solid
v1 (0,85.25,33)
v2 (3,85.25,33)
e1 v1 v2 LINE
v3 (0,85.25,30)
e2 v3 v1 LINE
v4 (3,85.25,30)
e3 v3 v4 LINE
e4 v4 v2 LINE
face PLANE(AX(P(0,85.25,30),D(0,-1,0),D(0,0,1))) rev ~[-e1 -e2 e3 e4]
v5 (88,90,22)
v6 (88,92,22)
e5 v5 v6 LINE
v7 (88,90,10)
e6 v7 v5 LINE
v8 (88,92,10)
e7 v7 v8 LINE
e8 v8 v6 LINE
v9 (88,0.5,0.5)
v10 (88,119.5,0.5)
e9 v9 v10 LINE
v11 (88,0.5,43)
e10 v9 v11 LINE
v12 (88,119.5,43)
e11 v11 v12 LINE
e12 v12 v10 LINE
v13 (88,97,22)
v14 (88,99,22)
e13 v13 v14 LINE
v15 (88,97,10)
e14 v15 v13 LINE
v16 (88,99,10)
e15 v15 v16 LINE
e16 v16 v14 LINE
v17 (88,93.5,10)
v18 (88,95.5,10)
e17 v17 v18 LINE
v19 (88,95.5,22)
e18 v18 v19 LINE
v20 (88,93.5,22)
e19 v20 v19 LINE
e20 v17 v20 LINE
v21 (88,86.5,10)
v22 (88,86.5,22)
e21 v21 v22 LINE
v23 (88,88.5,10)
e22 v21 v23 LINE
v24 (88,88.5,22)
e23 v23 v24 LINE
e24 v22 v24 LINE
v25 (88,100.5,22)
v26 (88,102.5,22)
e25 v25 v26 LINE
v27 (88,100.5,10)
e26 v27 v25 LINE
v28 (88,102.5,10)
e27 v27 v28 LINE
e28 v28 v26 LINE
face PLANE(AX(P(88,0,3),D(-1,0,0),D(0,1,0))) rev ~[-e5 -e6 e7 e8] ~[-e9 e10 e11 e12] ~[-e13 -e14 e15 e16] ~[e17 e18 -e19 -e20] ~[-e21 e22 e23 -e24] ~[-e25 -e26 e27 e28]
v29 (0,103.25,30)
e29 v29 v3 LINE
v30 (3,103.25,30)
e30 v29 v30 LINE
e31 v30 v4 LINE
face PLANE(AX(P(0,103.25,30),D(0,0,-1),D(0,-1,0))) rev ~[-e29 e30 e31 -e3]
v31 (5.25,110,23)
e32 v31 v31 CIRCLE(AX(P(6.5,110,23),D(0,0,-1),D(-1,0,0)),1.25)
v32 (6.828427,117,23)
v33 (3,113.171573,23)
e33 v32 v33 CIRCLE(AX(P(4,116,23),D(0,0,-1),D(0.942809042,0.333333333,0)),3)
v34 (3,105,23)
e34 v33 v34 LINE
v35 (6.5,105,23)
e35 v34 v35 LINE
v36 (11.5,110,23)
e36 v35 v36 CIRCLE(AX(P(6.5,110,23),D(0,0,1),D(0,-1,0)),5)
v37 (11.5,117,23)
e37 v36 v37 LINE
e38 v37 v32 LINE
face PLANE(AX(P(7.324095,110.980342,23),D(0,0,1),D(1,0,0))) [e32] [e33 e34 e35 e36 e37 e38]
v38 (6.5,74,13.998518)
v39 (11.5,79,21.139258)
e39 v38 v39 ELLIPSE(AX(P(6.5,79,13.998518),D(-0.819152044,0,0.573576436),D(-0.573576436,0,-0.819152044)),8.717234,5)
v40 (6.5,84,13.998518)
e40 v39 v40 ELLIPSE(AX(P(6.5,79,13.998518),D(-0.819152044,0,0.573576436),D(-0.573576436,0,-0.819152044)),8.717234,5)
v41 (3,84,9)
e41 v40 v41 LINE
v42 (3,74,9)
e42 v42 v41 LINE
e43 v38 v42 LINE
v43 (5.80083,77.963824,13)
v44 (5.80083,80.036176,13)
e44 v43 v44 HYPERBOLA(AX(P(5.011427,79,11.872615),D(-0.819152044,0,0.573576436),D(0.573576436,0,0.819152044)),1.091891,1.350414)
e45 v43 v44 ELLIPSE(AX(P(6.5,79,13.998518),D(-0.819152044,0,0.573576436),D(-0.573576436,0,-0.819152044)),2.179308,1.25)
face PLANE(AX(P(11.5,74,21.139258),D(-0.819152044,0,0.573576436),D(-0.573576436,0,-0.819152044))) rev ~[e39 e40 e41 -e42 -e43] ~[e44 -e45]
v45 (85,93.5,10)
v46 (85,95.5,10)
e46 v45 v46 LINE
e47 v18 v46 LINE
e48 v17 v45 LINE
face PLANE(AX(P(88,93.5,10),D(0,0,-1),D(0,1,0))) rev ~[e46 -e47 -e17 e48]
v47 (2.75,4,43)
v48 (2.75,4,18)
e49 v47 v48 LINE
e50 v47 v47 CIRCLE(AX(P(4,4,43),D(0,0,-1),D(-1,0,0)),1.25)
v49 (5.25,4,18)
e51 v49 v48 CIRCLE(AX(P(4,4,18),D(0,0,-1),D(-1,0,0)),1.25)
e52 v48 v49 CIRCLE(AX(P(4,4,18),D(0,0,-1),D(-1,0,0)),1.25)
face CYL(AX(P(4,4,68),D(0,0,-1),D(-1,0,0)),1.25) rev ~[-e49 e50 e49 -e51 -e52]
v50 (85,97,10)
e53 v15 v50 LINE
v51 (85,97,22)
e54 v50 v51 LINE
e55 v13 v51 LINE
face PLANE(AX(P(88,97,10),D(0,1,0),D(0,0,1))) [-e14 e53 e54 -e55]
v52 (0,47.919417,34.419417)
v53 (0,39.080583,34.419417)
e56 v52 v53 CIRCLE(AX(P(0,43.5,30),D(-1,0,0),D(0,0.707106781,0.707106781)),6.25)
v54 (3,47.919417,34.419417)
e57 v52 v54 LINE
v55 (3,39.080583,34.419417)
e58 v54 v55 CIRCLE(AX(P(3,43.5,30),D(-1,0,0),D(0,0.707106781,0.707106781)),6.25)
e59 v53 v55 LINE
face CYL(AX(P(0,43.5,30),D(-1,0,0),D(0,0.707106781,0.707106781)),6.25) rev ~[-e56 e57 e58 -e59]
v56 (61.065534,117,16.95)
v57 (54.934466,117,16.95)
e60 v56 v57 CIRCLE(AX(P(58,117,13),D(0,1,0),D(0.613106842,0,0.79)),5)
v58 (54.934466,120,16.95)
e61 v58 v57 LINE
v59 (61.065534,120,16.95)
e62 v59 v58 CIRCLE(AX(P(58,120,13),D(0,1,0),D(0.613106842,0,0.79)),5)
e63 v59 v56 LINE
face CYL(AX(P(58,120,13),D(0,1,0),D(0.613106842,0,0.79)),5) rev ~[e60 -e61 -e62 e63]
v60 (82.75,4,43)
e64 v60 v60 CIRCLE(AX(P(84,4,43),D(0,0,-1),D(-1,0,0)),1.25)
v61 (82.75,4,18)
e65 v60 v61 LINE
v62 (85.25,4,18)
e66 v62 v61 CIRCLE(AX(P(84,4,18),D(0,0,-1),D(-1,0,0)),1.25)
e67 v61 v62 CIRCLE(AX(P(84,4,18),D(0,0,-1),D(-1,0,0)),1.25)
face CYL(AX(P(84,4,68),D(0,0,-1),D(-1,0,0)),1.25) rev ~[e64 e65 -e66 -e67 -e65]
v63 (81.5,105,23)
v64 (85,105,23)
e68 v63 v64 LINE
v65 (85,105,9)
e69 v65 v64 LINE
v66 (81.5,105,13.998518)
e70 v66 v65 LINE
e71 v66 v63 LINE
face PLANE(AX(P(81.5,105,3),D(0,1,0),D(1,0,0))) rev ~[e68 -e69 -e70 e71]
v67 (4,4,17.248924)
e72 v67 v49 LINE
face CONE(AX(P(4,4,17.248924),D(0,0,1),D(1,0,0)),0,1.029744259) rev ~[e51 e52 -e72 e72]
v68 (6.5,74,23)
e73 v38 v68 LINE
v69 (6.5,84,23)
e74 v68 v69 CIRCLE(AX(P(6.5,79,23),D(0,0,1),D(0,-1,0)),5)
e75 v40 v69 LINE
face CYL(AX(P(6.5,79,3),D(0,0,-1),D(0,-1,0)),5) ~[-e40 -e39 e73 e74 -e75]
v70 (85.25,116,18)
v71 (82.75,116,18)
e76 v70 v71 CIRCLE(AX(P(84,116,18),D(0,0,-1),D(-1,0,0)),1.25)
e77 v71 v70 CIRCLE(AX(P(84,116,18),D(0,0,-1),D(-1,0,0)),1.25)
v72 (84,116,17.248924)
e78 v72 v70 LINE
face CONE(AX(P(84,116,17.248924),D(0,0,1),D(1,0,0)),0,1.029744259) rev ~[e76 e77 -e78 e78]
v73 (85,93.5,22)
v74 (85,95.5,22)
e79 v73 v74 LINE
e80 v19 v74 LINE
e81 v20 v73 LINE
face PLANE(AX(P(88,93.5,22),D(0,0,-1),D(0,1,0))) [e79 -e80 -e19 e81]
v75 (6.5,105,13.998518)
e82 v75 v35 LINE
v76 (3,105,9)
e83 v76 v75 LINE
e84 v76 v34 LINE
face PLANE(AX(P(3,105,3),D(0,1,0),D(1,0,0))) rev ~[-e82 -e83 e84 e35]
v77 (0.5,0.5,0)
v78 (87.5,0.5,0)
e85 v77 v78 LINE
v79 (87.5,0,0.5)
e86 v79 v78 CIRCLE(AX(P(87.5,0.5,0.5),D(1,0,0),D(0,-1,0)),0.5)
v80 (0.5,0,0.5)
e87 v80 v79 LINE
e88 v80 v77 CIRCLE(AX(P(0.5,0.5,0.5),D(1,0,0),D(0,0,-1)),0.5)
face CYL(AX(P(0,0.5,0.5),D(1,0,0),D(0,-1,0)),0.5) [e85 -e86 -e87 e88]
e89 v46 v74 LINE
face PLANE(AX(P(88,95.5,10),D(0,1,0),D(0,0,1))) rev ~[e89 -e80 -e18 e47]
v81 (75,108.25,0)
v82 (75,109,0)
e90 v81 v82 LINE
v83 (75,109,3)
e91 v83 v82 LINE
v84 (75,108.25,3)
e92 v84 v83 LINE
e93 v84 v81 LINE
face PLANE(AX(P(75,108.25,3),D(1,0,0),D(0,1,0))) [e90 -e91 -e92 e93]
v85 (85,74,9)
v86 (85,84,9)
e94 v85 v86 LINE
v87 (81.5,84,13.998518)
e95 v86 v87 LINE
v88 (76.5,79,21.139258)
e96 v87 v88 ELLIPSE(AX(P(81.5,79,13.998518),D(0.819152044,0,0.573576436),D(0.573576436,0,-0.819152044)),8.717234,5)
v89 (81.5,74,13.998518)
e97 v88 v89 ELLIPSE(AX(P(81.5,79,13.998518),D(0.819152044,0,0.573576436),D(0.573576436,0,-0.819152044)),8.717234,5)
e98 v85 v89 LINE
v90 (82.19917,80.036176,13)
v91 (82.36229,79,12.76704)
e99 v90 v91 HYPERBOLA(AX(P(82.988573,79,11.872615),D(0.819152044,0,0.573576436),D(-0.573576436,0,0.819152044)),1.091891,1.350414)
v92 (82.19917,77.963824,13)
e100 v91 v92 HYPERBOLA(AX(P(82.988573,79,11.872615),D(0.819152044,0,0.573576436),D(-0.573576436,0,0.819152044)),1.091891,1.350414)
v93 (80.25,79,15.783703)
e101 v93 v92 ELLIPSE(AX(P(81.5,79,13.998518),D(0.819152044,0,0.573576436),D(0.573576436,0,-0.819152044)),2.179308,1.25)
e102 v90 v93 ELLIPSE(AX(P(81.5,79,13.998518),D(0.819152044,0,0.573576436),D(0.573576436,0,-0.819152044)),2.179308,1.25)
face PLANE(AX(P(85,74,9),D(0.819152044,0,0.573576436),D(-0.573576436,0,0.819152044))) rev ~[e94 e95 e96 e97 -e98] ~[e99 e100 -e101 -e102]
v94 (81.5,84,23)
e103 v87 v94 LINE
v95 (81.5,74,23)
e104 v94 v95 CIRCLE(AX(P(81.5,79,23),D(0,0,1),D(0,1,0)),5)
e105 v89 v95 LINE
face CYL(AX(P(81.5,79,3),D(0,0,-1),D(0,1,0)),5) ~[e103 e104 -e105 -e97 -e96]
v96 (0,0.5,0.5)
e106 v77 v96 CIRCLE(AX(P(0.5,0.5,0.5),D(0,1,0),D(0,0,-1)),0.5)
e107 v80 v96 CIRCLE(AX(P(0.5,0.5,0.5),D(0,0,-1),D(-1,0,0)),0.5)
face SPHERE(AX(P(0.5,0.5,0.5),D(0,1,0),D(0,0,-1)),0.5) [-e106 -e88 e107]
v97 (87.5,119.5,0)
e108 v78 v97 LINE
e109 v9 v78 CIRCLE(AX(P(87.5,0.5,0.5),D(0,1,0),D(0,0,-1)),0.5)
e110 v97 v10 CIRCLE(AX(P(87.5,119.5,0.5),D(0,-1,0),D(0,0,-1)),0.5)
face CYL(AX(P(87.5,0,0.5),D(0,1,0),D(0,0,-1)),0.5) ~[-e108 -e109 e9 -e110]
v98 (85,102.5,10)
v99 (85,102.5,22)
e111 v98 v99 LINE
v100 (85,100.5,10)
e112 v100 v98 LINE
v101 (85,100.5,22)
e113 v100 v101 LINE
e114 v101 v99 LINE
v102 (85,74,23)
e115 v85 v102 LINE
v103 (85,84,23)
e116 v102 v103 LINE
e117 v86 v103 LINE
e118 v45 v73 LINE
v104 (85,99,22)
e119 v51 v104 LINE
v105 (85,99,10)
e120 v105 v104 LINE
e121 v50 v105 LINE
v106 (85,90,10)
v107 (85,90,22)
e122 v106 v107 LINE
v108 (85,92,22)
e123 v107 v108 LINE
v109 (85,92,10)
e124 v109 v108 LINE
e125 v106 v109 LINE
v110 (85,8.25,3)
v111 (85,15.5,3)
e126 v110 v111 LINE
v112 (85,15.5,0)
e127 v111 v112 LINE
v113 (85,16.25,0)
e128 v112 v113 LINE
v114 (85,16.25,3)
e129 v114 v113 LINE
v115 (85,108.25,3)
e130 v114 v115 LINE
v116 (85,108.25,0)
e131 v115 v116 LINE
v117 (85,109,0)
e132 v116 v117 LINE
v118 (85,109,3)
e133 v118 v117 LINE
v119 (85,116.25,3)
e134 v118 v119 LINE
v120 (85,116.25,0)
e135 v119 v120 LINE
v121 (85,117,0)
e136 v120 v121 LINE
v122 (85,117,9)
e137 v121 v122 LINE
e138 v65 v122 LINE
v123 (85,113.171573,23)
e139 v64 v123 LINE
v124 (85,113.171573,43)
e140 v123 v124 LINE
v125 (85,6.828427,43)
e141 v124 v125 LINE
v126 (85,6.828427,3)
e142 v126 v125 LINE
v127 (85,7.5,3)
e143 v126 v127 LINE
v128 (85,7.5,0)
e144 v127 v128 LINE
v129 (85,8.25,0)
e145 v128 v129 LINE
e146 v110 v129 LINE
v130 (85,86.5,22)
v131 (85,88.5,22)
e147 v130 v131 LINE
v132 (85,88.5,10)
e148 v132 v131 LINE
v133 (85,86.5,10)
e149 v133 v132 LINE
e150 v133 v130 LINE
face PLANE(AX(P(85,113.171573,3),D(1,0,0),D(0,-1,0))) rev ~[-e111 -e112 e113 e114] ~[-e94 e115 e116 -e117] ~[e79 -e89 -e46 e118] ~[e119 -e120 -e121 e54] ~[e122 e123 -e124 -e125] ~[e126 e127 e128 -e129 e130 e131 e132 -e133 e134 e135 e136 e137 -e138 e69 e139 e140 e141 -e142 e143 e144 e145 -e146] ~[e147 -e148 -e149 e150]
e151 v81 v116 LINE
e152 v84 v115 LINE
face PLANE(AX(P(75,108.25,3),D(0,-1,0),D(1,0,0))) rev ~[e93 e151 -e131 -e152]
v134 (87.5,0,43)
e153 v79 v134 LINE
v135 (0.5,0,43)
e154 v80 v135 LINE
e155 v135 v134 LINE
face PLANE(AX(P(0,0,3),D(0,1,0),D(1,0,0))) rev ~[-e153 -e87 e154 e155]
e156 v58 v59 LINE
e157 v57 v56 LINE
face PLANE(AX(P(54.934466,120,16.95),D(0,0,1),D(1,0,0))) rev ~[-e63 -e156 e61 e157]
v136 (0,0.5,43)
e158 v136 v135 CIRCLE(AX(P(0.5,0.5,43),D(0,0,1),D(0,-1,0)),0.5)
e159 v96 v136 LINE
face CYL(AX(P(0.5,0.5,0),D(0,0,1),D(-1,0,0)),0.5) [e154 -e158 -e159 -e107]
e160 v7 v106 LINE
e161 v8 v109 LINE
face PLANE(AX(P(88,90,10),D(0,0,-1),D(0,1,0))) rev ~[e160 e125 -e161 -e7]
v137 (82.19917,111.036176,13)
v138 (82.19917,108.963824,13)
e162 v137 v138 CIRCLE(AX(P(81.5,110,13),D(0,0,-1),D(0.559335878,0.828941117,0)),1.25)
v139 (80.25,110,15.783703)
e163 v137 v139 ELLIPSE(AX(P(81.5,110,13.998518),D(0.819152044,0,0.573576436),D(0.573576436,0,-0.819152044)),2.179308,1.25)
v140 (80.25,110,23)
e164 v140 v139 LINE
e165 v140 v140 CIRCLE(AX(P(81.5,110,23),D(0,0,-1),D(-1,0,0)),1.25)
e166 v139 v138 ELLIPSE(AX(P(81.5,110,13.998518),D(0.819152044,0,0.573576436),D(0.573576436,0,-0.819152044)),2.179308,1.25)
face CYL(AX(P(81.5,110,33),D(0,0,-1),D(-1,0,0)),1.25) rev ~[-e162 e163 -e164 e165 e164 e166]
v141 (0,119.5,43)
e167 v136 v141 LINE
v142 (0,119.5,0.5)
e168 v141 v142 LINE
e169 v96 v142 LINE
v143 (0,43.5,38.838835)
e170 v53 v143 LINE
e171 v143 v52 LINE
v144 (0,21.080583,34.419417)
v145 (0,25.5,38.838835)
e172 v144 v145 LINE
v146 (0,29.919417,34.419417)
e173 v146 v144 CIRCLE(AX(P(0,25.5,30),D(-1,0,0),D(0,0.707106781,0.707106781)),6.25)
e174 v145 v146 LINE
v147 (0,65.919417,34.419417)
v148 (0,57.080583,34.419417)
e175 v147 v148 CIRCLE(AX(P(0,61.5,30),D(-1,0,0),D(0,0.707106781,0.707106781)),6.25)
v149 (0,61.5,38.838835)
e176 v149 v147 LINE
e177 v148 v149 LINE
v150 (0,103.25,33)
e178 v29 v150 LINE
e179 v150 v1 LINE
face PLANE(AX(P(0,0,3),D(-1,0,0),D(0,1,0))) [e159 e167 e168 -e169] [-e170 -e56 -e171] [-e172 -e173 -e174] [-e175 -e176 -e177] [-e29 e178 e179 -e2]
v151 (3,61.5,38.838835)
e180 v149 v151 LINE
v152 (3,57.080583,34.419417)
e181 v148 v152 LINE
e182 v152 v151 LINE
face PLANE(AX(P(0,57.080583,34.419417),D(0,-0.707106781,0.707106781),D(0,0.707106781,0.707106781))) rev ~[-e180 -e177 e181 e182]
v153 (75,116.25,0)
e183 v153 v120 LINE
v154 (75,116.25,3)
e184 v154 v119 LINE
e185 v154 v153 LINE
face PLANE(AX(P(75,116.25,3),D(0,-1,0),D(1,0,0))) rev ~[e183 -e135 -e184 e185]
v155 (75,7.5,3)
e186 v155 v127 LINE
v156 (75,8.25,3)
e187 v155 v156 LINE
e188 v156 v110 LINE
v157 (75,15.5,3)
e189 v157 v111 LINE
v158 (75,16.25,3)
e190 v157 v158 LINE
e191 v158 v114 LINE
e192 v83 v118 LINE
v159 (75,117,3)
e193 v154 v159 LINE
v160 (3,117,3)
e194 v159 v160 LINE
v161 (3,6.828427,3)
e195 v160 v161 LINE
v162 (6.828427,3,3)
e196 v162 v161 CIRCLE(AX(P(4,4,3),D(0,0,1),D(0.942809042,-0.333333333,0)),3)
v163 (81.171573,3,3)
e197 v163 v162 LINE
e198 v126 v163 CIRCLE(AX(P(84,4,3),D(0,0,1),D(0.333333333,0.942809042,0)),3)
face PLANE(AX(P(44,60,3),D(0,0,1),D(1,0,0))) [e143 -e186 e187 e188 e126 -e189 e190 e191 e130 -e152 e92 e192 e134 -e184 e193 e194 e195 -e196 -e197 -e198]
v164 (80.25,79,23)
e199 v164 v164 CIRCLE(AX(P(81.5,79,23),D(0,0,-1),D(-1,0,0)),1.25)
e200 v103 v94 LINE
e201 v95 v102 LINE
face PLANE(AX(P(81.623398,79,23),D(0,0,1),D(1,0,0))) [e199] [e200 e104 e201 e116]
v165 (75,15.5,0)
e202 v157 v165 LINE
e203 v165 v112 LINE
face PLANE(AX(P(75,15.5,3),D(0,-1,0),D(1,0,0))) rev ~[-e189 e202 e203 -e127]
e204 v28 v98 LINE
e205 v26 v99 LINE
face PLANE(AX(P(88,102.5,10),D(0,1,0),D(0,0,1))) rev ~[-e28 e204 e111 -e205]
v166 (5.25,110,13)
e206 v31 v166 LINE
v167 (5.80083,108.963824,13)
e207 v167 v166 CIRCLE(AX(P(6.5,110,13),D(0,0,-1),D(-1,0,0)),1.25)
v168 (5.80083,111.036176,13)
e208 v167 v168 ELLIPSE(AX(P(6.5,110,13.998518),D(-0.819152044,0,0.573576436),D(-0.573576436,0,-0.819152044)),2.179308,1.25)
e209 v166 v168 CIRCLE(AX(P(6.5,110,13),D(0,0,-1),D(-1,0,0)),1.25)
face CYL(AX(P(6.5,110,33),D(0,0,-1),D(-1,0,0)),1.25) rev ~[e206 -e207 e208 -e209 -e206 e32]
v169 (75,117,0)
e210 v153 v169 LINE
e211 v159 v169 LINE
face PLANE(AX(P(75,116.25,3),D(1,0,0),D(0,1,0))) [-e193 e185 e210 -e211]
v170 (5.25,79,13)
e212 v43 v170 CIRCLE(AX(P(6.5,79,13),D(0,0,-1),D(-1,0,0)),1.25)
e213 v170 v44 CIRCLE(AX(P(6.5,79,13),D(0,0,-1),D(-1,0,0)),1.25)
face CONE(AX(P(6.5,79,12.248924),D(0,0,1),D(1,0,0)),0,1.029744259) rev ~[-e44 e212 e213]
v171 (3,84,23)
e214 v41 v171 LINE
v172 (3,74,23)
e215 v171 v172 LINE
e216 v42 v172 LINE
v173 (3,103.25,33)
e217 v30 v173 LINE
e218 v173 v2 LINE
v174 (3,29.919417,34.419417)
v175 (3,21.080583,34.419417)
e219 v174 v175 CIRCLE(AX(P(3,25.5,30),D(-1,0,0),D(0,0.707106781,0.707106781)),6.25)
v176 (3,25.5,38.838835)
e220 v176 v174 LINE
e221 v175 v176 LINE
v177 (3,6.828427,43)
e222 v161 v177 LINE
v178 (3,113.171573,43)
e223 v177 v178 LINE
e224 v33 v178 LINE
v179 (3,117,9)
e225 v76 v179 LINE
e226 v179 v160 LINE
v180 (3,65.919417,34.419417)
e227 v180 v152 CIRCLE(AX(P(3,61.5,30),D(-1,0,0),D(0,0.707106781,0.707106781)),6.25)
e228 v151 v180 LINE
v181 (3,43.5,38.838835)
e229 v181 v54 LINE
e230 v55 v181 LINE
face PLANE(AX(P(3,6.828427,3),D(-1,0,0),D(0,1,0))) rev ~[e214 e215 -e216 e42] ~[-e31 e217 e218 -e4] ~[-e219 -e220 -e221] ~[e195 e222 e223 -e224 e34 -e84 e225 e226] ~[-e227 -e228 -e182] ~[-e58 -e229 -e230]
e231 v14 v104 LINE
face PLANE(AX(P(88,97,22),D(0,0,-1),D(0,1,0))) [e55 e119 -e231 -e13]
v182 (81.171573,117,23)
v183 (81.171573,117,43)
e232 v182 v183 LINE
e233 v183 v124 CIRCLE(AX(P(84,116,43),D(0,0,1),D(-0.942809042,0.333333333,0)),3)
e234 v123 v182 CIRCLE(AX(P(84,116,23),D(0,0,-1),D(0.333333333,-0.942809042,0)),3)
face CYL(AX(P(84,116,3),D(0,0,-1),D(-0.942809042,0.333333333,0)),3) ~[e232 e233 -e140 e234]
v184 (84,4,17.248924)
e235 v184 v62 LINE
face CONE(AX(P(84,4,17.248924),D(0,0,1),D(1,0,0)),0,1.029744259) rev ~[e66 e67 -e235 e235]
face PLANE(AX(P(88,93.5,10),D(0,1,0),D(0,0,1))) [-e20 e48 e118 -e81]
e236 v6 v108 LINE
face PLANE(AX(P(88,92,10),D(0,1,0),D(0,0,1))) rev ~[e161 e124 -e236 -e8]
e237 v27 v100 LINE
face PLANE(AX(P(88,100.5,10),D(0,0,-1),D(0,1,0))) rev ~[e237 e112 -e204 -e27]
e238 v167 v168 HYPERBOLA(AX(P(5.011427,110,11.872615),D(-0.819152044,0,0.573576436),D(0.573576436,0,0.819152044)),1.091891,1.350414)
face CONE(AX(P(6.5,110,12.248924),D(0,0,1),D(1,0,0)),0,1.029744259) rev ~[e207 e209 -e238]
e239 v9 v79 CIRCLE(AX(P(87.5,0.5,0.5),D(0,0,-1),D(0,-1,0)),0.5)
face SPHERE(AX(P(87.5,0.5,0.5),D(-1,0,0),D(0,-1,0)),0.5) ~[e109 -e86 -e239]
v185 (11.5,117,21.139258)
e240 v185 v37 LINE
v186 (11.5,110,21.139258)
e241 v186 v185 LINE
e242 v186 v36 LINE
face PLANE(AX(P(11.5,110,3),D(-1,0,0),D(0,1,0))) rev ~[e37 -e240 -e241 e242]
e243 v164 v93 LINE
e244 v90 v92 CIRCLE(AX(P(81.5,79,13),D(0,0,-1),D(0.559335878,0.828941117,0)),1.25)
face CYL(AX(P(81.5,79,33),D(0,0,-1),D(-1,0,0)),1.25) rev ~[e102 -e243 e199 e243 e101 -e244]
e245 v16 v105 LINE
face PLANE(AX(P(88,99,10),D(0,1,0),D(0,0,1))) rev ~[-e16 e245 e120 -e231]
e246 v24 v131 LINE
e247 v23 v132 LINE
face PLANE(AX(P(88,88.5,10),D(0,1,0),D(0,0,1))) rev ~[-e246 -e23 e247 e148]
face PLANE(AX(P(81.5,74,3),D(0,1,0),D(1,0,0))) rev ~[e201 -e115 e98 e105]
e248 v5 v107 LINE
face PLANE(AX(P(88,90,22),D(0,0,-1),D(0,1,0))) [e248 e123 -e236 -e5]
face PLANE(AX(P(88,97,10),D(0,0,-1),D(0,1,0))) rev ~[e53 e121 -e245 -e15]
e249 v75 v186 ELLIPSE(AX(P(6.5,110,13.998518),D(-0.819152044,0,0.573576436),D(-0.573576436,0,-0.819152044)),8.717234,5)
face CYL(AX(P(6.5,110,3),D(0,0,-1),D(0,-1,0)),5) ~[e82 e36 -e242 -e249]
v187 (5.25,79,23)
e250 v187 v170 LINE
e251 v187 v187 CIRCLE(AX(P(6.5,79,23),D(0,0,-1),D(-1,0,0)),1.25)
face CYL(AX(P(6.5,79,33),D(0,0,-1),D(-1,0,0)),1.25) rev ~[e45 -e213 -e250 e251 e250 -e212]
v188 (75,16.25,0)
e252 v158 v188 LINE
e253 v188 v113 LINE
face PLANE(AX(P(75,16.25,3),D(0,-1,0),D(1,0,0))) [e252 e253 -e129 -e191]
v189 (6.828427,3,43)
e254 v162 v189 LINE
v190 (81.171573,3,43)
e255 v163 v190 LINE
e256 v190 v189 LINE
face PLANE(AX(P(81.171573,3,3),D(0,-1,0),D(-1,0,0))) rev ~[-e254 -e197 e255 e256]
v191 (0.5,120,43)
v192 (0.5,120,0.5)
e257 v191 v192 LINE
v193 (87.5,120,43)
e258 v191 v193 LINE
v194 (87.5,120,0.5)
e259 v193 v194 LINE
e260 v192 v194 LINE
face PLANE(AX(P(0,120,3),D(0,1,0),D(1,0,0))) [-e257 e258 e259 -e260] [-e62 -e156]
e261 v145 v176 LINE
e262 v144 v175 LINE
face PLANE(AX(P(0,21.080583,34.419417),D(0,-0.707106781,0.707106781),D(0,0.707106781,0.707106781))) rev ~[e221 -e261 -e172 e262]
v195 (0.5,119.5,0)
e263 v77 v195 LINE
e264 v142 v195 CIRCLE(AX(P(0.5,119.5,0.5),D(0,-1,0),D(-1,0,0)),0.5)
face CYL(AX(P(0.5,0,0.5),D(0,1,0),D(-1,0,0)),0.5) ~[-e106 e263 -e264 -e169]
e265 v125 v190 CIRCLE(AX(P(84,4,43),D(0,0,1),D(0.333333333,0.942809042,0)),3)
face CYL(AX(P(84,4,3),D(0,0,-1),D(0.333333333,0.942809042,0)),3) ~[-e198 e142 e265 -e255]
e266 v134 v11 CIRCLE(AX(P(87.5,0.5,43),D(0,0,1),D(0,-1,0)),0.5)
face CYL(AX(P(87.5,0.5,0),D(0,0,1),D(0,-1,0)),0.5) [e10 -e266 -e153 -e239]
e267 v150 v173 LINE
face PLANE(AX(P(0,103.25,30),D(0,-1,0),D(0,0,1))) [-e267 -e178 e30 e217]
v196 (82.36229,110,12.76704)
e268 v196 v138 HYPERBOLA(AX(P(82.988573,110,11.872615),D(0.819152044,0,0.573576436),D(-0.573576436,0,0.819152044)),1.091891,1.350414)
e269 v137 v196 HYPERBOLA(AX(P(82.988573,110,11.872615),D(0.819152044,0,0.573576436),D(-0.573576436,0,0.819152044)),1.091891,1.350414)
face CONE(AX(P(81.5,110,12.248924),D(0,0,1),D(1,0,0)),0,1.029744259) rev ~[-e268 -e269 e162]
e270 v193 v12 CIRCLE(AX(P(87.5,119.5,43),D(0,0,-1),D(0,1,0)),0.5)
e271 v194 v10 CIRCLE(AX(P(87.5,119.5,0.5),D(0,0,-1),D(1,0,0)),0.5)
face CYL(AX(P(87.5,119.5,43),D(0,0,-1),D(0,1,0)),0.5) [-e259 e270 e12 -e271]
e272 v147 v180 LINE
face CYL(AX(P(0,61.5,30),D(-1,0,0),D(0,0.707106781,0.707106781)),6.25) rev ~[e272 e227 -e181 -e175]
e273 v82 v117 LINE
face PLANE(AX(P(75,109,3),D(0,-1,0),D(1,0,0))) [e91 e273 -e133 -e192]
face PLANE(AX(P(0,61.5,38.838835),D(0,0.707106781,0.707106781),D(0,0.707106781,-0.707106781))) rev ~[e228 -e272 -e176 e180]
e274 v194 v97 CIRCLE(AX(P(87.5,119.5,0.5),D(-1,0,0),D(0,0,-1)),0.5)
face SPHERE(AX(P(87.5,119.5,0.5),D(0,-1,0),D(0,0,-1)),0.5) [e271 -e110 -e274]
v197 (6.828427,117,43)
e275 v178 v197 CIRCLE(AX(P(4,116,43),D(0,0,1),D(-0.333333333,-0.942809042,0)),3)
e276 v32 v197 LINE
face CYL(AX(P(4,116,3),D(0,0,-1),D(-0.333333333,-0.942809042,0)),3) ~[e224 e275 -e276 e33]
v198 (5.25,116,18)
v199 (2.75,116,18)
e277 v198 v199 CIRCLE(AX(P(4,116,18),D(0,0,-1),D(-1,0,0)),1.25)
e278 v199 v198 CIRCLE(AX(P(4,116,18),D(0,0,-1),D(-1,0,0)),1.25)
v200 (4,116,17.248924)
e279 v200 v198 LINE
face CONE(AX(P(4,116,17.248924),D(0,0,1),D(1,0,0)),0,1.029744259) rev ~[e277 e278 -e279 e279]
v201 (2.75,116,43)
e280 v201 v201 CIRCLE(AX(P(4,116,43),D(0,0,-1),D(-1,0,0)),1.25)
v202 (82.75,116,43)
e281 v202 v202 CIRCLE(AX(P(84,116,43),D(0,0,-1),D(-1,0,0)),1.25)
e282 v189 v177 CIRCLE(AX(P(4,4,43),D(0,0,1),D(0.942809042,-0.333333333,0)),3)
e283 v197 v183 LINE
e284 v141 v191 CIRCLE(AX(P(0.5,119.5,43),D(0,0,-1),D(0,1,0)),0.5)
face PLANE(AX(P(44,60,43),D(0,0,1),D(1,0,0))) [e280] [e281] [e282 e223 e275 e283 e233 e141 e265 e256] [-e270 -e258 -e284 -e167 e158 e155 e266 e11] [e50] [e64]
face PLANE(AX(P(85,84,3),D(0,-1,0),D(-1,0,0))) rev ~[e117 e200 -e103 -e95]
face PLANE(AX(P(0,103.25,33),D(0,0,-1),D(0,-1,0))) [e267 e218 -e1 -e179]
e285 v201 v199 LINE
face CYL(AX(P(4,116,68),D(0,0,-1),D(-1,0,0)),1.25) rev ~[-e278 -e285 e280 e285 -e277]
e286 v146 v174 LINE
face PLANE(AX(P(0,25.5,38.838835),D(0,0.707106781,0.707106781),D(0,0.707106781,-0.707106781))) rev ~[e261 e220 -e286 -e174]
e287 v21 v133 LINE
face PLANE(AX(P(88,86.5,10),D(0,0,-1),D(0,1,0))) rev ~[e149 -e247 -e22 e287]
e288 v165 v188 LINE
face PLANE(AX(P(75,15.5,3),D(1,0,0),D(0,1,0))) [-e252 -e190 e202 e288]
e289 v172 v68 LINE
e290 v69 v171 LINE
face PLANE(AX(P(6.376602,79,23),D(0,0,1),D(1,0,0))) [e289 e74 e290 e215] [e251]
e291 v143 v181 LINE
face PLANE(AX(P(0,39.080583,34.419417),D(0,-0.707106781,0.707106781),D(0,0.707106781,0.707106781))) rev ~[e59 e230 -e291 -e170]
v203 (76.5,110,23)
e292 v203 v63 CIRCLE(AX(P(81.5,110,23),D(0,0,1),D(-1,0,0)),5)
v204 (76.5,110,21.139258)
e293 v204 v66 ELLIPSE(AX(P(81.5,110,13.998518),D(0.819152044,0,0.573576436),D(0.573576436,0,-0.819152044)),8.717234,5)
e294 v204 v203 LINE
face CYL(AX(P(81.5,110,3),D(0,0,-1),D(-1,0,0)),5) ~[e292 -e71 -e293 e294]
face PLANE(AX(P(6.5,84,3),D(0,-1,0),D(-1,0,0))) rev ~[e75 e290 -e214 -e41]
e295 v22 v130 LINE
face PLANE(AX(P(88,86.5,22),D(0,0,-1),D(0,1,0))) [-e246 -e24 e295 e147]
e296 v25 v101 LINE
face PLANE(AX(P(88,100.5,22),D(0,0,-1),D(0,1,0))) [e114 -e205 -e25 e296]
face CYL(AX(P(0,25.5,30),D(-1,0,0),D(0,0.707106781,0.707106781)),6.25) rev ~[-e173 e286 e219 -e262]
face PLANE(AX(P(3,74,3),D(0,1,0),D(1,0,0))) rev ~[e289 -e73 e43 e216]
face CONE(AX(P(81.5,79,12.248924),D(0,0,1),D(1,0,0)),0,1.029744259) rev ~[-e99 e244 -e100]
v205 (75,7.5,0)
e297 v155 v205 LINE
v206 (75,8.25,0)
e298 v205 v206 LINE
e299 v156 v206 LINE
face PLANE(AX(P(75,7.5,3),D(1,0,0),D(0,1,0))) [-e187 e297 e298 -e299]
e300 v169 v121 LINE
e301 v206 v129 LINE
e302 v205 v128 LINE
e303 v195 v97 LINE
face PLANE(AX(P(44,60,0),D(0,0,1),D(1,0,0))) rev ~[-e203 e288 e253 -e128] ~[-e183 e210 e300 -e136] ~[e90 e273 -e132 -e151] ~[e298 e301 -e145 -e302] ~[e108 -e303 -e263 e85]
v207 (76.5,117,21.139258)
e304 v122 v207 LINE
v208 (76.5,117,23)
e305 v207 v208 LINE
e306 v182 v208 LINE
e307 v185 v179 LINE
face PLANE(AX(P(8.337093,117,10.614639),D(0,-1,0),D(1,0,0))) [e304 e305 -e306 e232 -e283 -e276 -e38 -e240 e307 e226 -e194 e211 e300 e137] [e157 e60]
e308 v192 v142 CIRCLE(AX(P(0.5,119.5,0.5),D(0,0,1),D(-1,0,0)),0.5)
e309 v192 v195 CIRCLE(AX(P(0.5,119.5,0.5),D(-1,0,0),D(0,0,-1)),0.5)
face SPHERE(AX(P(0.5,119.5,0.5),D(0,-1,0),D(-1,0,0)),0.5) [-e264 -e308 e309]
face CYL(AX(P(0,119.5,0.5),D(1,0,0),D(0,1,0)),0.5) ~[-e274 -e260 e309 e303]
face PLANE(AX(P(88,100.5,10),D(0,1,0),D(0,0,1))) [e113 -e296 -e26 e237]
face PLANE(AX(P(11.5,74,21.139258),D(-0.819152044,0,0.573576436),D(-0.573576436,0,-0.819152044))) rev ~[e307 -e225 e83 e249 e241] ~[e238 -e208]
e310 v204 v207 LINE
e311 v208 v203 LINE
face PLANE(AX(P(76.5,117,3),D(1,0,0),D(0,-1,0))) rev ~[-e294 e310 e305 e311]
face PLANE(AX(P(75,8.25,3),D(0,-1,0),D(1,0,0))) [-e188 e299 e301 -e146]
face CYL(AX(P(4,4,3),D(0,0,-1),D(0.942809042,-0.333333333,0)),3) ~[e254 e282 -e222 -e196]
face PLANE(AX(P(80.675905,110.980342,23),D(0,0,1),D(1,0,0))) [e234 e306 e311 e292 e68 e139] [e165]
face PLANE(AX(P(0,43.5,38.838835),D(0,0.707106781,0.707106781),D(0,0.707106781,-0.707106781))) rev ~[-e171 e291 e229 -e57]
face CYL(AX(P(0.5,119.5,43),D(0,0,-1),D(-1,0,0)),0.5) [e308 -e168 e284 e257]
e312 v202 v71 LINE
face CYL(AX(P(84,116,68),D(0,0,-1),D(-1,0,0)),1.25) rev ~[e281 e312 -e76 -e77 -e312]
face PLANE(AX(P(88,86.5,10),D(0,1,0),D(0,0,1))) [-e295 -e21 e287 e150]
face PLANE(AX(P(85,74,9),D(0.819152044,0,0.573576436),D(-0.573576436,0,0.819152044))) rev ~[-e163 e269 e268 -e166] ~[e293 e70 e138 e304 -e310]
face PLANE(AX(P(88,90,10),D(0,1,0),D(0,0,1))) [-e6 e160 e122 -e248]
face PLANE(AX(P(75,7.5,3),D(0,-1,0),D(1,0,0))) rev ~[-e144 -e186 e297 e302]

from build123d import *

# Parameters (mm, degrees)
F0_W      = 88
F0_H      = 120
F1_DEPTH  = 3
F2_W      = 88
F2_H      = 120
F3_DEPTH  = 40
F5_DEPTH  = 3
F7_DEPTH  = 3
F8_R      = 0.5
F10_DEPTH = 20
F13_D     = 2.5
F13_DEPTH = 10
F13_TIP   = 0.7510757738
F15_DEPTH = 43
F17_DEPTH = 43
F18_W     = 10
F18_H     = 0.75
F19_DEPTH = 3
F21_D     = 2.5
F21_DEPTH = 25
F21_TIP   = 0.7510757738
F22_W     = 18
F22_H     = 3
F23_DEPTH = 3
F24_W     = 2
F24_H     = 12
F25_DEPTH = 3


with BuildPart() as f1:
    # F0 (on Top) → F1 (new body)
    with BuildSketch(Plane.XY):
        with Locations((44, 60)):
            Rectangle(F0_W, F0_H)
    extrude(amount=F1_DEPTH)

    # F2 (on face) → F3 (join)
    with BuildSketch(Plane.XY.offset(3)):
        with Locations((44, 60)):
            Rectangle(F2_W, F2_H)
        with BuildLine():
            ThreePointArc((3, 113.1715728753), (6.1213203436, 113.8786796564), (6.8284271247, 117))
            Line((6.8284271247, 117), (81.1715728753, 117))
            ThreePointArc((81.1715728753, 117), (81.8786796564, 113.8786796564), (85, 113.1715728753))
            Line((85, 113.1715728753), (85, 6.8284271247))
            ThreePointArc((85, 6.8284271247), (81.8786796564, 6.1213203436), (81.1715728753, 3))
            Line((81.1715728753, 3), (6.8284271247, 3))
            ThreePointArc((6.8284271247, 3), (6.1213203436, 6.1213203436), (3, 6.8284271247))
            Line((3, 6.8284271247), (3, 113.1715728753))
        make_face(mode=Mode.SUBTRACT)
    extrude(amount=F3_DEPTH)

    # F4 (on face) → F5 (cut, through all)
    with BuildSketch(Plane(origin=(0, 0, 0), x_dir=(0, -1, 0), z_dir=(-1, 0, 0))):
        with BuildLine():
            Line((-61.5, 38.8388347648), (-65.9194173824, 34.4194173824))
            ThreePointArc((-65.9194173824, 34.4194173824), (-61.5, 23.75), (-57.0805826176, 34.4194173824))
            Line((-57.0805826176, 34.4194173824), (-61.5, 38.8388347648))
        make_face()
        with BuildLine():
            Line((-39.0805826176, 34.4194173824), (-43.5, 38.8388347648))
            Line((-43.5, 38.8388347648), (-47.9194173824, 34.4194173824))
            ThreePointArc((-47.9194173824, 34.4194173824), (-43.5, 23.75), (-39.0805826176, 34.4194173824))
        make_face()
        with BuildLine():
            Line((-21.0805826176, 34.4194173824), (-25.5, 38.8388347648))
            Line((-25.5, 38.8388347648), (-29.9194173824, 34.4194173824))
            ThreePointArc((-29.9194173824, 34.4194173824), (-25.5, 23.75), (-21.0805826176, 34.4194173824))
        make_face()
    extrude(amount=-F5_DEPTH, mode=Mode.SUBTRACT)

    # F6 (on face) → F7 (cut, through all)
    with BuildSketch(Plane(origin=(0, 120, 0), x_dir=(-1, 0, 0), z_dir=(0, 1, 0))):
        with BuildLine():
            Line((-54.9344657888, 16.95), (-61.0655342112, 16.95))
            ThreePointArc((-61.0655342112, 16.95), (-58, 8), (-54.9344657888, 16.95))
        make_face()
    extrude(amount=-F7_DEPTH, mode=Mode.SUBTRACT)

    # F8
    f8_edges = [f1.edges().sort_by_distance(p)[0] for p in [
        (0, 60, 0),
        (44, 0, 0),
        (0, 0, 21.5),
        (0, 120, 21.5),
        (88, 0, 21.5),
        (88, 60, 0),
        (44, 120, 0),
        (88, 120, 21.5),
    ]]
    fillet(f8_edges, radius=F8_R)

    # F9 (on face) → F10 (join)
    with BuildSketch(Plane.XY.offset(3)):
        with BuildLine():
            Line((6.5, 84), (3, 84))
            Line((3, 84), (3, 74))
            Line((3, 74), (6.5, 74))
            ThreePointArc((6.5, 74), (11.5, 79), (6.5, 84))
        make_face()
        with BuildLine():
            Line((3, 105), (6.5, 105))
            ThreePointArc((6.5, 105), (10.0355339059, 106.4644660941), (11.5, 110))
            Line((11.5, 110), (11.5, 117))
            Line((11.5, 117), (6.8284271247, 117))
            ThreePointArc((6.8284271247, 117), (6.1213203436, 113.8786796564), (3, 113.1715728753))
            Line((3, 113.1715728753), (3, 105))
        make_face()
        with BuildLine():
            Line((81.1715728753, 117), (76.5, 117))
            Line((76.5, 117), (76.5, 110))
            ThreePointArc((76.5, 110), (77.9644660941, 106.4644660941), (81.5, 105))
            Line((81.5, 105), (85, 105))
            Line((85, 105), (85, 113.1715728753))
            ThreePointArc((85, 113.1715728753), (81.8786796564, 113.8786796564), (81.1715728753, 117))
        make_face()
        with BuildLine():
            Line((85, 74), (85, 84))
            Line((85, 84), (81.5, 84))
            ThreePointArc((81.5, 84), (76.5, 79), (81.5, 74))
            Line((81.5, 74), (85, 74))
        make_face()
    extrude(amount=F10_DEPTH)

    # F13
    with Locations(Plane.XY.offset(23)):
        with Locations((6.5, 110), (6.5, 79), (81.5, 79), (81.5, 110)):
            Hole(F13_D / 2, depth=F13_DEPTH)
            with Locations((0, 0, -(F13_DEPTH + F13_TIP / 2))):  # 118° drill point
                Cone(0, F13_D / 2, F13_TIP, mode=Mode.SUBTRACT)

    # F14 (on face) → F15 (cut, through all)
    with BuildSketch(Plane.XZ.offset(-74)):
        Polygon((76.5, 3), (85, 3), (85, 9), (76.5, 21.1392580573), align=None)
    extrude(amount=-F15_DEPTH, mode=Mode.SUBTRACT)

    # F16 (on face) → F17 (cut, through all)
    with BuildSketch(Plane.XZ.offset(-74)):
        Polygon((3, 9), (3, 3), (11.5, 3), (11.5, 21.1392580573), align=None)
    extrude(amount=-F17_DEPTH, mode=Mode.SUBTRACT)

    # F18 (on face) → F19 (cut, through all)
    with BuildSketch(Plane.XY.offset(3)):
        with Locations((80, 7.875)):
            Rectangle(F18_W, F18_H)
        with Locations((80, 15.875)):
            Rectangle(F18_W, F18_H)
        with Locations((80, 108.625)):
            Rectangle(F18_W, F18_H)
        with Locations((80, 116.625)):
            Rectangle(F18_W, F18_H)
    extrude(amount=-F19_DEPTH, mode=Mode.SUBTRACT)

    # F21
    with Locations(Plane.XY.offset(43)):
        with Locations((4, 116), (4, 4), (84, 4), (84, 116)):
            Hole(F21_D / 2, depth=F21_DEPTH)
            with Locations((0, 0, -(F21_DEPTH + F21_TIP / 2))):  # 118° drill point
                Cone(0, F21_D / 2, F21_TIP, mode=Mode.SUBTRACT)

    # F22 (on face) → F23 (cut, through all)
    with BuildSketch(Plane(origin=(0, 0, 0), x_dir=(0, -1, 0), z_dir=(-1, 0, 0))):
        with Locations((-94.25, 31.5)):
            Rectangle(F22_W, F22_H)
    extrude(amount=-F23_DEPTH, mode=Mode.SUBTRACT)

    # F24 (on face) → F25 (cut, through all)
    with BuildSketch(Plane.YZ.offset(88)):
        with Locations((87.5, 16)):
            Rectangle(F24_W, F24_H)
        with Locations((91, 16)):
            Rectangle(F24_W, F24_H)
        with Locations((94.5, 16)):
            Rectangle(F24_W, F24_H)
        with Locations((98, 16)):
            Rectangle(F24_W, F24_H)
        with Locations((101.5, 16)):
            Rectangle(F24_W, F24_H)
    extrude(amount=-F25_DEPTH, mode=Mode.SUBTRACT)


solid = f1.part
